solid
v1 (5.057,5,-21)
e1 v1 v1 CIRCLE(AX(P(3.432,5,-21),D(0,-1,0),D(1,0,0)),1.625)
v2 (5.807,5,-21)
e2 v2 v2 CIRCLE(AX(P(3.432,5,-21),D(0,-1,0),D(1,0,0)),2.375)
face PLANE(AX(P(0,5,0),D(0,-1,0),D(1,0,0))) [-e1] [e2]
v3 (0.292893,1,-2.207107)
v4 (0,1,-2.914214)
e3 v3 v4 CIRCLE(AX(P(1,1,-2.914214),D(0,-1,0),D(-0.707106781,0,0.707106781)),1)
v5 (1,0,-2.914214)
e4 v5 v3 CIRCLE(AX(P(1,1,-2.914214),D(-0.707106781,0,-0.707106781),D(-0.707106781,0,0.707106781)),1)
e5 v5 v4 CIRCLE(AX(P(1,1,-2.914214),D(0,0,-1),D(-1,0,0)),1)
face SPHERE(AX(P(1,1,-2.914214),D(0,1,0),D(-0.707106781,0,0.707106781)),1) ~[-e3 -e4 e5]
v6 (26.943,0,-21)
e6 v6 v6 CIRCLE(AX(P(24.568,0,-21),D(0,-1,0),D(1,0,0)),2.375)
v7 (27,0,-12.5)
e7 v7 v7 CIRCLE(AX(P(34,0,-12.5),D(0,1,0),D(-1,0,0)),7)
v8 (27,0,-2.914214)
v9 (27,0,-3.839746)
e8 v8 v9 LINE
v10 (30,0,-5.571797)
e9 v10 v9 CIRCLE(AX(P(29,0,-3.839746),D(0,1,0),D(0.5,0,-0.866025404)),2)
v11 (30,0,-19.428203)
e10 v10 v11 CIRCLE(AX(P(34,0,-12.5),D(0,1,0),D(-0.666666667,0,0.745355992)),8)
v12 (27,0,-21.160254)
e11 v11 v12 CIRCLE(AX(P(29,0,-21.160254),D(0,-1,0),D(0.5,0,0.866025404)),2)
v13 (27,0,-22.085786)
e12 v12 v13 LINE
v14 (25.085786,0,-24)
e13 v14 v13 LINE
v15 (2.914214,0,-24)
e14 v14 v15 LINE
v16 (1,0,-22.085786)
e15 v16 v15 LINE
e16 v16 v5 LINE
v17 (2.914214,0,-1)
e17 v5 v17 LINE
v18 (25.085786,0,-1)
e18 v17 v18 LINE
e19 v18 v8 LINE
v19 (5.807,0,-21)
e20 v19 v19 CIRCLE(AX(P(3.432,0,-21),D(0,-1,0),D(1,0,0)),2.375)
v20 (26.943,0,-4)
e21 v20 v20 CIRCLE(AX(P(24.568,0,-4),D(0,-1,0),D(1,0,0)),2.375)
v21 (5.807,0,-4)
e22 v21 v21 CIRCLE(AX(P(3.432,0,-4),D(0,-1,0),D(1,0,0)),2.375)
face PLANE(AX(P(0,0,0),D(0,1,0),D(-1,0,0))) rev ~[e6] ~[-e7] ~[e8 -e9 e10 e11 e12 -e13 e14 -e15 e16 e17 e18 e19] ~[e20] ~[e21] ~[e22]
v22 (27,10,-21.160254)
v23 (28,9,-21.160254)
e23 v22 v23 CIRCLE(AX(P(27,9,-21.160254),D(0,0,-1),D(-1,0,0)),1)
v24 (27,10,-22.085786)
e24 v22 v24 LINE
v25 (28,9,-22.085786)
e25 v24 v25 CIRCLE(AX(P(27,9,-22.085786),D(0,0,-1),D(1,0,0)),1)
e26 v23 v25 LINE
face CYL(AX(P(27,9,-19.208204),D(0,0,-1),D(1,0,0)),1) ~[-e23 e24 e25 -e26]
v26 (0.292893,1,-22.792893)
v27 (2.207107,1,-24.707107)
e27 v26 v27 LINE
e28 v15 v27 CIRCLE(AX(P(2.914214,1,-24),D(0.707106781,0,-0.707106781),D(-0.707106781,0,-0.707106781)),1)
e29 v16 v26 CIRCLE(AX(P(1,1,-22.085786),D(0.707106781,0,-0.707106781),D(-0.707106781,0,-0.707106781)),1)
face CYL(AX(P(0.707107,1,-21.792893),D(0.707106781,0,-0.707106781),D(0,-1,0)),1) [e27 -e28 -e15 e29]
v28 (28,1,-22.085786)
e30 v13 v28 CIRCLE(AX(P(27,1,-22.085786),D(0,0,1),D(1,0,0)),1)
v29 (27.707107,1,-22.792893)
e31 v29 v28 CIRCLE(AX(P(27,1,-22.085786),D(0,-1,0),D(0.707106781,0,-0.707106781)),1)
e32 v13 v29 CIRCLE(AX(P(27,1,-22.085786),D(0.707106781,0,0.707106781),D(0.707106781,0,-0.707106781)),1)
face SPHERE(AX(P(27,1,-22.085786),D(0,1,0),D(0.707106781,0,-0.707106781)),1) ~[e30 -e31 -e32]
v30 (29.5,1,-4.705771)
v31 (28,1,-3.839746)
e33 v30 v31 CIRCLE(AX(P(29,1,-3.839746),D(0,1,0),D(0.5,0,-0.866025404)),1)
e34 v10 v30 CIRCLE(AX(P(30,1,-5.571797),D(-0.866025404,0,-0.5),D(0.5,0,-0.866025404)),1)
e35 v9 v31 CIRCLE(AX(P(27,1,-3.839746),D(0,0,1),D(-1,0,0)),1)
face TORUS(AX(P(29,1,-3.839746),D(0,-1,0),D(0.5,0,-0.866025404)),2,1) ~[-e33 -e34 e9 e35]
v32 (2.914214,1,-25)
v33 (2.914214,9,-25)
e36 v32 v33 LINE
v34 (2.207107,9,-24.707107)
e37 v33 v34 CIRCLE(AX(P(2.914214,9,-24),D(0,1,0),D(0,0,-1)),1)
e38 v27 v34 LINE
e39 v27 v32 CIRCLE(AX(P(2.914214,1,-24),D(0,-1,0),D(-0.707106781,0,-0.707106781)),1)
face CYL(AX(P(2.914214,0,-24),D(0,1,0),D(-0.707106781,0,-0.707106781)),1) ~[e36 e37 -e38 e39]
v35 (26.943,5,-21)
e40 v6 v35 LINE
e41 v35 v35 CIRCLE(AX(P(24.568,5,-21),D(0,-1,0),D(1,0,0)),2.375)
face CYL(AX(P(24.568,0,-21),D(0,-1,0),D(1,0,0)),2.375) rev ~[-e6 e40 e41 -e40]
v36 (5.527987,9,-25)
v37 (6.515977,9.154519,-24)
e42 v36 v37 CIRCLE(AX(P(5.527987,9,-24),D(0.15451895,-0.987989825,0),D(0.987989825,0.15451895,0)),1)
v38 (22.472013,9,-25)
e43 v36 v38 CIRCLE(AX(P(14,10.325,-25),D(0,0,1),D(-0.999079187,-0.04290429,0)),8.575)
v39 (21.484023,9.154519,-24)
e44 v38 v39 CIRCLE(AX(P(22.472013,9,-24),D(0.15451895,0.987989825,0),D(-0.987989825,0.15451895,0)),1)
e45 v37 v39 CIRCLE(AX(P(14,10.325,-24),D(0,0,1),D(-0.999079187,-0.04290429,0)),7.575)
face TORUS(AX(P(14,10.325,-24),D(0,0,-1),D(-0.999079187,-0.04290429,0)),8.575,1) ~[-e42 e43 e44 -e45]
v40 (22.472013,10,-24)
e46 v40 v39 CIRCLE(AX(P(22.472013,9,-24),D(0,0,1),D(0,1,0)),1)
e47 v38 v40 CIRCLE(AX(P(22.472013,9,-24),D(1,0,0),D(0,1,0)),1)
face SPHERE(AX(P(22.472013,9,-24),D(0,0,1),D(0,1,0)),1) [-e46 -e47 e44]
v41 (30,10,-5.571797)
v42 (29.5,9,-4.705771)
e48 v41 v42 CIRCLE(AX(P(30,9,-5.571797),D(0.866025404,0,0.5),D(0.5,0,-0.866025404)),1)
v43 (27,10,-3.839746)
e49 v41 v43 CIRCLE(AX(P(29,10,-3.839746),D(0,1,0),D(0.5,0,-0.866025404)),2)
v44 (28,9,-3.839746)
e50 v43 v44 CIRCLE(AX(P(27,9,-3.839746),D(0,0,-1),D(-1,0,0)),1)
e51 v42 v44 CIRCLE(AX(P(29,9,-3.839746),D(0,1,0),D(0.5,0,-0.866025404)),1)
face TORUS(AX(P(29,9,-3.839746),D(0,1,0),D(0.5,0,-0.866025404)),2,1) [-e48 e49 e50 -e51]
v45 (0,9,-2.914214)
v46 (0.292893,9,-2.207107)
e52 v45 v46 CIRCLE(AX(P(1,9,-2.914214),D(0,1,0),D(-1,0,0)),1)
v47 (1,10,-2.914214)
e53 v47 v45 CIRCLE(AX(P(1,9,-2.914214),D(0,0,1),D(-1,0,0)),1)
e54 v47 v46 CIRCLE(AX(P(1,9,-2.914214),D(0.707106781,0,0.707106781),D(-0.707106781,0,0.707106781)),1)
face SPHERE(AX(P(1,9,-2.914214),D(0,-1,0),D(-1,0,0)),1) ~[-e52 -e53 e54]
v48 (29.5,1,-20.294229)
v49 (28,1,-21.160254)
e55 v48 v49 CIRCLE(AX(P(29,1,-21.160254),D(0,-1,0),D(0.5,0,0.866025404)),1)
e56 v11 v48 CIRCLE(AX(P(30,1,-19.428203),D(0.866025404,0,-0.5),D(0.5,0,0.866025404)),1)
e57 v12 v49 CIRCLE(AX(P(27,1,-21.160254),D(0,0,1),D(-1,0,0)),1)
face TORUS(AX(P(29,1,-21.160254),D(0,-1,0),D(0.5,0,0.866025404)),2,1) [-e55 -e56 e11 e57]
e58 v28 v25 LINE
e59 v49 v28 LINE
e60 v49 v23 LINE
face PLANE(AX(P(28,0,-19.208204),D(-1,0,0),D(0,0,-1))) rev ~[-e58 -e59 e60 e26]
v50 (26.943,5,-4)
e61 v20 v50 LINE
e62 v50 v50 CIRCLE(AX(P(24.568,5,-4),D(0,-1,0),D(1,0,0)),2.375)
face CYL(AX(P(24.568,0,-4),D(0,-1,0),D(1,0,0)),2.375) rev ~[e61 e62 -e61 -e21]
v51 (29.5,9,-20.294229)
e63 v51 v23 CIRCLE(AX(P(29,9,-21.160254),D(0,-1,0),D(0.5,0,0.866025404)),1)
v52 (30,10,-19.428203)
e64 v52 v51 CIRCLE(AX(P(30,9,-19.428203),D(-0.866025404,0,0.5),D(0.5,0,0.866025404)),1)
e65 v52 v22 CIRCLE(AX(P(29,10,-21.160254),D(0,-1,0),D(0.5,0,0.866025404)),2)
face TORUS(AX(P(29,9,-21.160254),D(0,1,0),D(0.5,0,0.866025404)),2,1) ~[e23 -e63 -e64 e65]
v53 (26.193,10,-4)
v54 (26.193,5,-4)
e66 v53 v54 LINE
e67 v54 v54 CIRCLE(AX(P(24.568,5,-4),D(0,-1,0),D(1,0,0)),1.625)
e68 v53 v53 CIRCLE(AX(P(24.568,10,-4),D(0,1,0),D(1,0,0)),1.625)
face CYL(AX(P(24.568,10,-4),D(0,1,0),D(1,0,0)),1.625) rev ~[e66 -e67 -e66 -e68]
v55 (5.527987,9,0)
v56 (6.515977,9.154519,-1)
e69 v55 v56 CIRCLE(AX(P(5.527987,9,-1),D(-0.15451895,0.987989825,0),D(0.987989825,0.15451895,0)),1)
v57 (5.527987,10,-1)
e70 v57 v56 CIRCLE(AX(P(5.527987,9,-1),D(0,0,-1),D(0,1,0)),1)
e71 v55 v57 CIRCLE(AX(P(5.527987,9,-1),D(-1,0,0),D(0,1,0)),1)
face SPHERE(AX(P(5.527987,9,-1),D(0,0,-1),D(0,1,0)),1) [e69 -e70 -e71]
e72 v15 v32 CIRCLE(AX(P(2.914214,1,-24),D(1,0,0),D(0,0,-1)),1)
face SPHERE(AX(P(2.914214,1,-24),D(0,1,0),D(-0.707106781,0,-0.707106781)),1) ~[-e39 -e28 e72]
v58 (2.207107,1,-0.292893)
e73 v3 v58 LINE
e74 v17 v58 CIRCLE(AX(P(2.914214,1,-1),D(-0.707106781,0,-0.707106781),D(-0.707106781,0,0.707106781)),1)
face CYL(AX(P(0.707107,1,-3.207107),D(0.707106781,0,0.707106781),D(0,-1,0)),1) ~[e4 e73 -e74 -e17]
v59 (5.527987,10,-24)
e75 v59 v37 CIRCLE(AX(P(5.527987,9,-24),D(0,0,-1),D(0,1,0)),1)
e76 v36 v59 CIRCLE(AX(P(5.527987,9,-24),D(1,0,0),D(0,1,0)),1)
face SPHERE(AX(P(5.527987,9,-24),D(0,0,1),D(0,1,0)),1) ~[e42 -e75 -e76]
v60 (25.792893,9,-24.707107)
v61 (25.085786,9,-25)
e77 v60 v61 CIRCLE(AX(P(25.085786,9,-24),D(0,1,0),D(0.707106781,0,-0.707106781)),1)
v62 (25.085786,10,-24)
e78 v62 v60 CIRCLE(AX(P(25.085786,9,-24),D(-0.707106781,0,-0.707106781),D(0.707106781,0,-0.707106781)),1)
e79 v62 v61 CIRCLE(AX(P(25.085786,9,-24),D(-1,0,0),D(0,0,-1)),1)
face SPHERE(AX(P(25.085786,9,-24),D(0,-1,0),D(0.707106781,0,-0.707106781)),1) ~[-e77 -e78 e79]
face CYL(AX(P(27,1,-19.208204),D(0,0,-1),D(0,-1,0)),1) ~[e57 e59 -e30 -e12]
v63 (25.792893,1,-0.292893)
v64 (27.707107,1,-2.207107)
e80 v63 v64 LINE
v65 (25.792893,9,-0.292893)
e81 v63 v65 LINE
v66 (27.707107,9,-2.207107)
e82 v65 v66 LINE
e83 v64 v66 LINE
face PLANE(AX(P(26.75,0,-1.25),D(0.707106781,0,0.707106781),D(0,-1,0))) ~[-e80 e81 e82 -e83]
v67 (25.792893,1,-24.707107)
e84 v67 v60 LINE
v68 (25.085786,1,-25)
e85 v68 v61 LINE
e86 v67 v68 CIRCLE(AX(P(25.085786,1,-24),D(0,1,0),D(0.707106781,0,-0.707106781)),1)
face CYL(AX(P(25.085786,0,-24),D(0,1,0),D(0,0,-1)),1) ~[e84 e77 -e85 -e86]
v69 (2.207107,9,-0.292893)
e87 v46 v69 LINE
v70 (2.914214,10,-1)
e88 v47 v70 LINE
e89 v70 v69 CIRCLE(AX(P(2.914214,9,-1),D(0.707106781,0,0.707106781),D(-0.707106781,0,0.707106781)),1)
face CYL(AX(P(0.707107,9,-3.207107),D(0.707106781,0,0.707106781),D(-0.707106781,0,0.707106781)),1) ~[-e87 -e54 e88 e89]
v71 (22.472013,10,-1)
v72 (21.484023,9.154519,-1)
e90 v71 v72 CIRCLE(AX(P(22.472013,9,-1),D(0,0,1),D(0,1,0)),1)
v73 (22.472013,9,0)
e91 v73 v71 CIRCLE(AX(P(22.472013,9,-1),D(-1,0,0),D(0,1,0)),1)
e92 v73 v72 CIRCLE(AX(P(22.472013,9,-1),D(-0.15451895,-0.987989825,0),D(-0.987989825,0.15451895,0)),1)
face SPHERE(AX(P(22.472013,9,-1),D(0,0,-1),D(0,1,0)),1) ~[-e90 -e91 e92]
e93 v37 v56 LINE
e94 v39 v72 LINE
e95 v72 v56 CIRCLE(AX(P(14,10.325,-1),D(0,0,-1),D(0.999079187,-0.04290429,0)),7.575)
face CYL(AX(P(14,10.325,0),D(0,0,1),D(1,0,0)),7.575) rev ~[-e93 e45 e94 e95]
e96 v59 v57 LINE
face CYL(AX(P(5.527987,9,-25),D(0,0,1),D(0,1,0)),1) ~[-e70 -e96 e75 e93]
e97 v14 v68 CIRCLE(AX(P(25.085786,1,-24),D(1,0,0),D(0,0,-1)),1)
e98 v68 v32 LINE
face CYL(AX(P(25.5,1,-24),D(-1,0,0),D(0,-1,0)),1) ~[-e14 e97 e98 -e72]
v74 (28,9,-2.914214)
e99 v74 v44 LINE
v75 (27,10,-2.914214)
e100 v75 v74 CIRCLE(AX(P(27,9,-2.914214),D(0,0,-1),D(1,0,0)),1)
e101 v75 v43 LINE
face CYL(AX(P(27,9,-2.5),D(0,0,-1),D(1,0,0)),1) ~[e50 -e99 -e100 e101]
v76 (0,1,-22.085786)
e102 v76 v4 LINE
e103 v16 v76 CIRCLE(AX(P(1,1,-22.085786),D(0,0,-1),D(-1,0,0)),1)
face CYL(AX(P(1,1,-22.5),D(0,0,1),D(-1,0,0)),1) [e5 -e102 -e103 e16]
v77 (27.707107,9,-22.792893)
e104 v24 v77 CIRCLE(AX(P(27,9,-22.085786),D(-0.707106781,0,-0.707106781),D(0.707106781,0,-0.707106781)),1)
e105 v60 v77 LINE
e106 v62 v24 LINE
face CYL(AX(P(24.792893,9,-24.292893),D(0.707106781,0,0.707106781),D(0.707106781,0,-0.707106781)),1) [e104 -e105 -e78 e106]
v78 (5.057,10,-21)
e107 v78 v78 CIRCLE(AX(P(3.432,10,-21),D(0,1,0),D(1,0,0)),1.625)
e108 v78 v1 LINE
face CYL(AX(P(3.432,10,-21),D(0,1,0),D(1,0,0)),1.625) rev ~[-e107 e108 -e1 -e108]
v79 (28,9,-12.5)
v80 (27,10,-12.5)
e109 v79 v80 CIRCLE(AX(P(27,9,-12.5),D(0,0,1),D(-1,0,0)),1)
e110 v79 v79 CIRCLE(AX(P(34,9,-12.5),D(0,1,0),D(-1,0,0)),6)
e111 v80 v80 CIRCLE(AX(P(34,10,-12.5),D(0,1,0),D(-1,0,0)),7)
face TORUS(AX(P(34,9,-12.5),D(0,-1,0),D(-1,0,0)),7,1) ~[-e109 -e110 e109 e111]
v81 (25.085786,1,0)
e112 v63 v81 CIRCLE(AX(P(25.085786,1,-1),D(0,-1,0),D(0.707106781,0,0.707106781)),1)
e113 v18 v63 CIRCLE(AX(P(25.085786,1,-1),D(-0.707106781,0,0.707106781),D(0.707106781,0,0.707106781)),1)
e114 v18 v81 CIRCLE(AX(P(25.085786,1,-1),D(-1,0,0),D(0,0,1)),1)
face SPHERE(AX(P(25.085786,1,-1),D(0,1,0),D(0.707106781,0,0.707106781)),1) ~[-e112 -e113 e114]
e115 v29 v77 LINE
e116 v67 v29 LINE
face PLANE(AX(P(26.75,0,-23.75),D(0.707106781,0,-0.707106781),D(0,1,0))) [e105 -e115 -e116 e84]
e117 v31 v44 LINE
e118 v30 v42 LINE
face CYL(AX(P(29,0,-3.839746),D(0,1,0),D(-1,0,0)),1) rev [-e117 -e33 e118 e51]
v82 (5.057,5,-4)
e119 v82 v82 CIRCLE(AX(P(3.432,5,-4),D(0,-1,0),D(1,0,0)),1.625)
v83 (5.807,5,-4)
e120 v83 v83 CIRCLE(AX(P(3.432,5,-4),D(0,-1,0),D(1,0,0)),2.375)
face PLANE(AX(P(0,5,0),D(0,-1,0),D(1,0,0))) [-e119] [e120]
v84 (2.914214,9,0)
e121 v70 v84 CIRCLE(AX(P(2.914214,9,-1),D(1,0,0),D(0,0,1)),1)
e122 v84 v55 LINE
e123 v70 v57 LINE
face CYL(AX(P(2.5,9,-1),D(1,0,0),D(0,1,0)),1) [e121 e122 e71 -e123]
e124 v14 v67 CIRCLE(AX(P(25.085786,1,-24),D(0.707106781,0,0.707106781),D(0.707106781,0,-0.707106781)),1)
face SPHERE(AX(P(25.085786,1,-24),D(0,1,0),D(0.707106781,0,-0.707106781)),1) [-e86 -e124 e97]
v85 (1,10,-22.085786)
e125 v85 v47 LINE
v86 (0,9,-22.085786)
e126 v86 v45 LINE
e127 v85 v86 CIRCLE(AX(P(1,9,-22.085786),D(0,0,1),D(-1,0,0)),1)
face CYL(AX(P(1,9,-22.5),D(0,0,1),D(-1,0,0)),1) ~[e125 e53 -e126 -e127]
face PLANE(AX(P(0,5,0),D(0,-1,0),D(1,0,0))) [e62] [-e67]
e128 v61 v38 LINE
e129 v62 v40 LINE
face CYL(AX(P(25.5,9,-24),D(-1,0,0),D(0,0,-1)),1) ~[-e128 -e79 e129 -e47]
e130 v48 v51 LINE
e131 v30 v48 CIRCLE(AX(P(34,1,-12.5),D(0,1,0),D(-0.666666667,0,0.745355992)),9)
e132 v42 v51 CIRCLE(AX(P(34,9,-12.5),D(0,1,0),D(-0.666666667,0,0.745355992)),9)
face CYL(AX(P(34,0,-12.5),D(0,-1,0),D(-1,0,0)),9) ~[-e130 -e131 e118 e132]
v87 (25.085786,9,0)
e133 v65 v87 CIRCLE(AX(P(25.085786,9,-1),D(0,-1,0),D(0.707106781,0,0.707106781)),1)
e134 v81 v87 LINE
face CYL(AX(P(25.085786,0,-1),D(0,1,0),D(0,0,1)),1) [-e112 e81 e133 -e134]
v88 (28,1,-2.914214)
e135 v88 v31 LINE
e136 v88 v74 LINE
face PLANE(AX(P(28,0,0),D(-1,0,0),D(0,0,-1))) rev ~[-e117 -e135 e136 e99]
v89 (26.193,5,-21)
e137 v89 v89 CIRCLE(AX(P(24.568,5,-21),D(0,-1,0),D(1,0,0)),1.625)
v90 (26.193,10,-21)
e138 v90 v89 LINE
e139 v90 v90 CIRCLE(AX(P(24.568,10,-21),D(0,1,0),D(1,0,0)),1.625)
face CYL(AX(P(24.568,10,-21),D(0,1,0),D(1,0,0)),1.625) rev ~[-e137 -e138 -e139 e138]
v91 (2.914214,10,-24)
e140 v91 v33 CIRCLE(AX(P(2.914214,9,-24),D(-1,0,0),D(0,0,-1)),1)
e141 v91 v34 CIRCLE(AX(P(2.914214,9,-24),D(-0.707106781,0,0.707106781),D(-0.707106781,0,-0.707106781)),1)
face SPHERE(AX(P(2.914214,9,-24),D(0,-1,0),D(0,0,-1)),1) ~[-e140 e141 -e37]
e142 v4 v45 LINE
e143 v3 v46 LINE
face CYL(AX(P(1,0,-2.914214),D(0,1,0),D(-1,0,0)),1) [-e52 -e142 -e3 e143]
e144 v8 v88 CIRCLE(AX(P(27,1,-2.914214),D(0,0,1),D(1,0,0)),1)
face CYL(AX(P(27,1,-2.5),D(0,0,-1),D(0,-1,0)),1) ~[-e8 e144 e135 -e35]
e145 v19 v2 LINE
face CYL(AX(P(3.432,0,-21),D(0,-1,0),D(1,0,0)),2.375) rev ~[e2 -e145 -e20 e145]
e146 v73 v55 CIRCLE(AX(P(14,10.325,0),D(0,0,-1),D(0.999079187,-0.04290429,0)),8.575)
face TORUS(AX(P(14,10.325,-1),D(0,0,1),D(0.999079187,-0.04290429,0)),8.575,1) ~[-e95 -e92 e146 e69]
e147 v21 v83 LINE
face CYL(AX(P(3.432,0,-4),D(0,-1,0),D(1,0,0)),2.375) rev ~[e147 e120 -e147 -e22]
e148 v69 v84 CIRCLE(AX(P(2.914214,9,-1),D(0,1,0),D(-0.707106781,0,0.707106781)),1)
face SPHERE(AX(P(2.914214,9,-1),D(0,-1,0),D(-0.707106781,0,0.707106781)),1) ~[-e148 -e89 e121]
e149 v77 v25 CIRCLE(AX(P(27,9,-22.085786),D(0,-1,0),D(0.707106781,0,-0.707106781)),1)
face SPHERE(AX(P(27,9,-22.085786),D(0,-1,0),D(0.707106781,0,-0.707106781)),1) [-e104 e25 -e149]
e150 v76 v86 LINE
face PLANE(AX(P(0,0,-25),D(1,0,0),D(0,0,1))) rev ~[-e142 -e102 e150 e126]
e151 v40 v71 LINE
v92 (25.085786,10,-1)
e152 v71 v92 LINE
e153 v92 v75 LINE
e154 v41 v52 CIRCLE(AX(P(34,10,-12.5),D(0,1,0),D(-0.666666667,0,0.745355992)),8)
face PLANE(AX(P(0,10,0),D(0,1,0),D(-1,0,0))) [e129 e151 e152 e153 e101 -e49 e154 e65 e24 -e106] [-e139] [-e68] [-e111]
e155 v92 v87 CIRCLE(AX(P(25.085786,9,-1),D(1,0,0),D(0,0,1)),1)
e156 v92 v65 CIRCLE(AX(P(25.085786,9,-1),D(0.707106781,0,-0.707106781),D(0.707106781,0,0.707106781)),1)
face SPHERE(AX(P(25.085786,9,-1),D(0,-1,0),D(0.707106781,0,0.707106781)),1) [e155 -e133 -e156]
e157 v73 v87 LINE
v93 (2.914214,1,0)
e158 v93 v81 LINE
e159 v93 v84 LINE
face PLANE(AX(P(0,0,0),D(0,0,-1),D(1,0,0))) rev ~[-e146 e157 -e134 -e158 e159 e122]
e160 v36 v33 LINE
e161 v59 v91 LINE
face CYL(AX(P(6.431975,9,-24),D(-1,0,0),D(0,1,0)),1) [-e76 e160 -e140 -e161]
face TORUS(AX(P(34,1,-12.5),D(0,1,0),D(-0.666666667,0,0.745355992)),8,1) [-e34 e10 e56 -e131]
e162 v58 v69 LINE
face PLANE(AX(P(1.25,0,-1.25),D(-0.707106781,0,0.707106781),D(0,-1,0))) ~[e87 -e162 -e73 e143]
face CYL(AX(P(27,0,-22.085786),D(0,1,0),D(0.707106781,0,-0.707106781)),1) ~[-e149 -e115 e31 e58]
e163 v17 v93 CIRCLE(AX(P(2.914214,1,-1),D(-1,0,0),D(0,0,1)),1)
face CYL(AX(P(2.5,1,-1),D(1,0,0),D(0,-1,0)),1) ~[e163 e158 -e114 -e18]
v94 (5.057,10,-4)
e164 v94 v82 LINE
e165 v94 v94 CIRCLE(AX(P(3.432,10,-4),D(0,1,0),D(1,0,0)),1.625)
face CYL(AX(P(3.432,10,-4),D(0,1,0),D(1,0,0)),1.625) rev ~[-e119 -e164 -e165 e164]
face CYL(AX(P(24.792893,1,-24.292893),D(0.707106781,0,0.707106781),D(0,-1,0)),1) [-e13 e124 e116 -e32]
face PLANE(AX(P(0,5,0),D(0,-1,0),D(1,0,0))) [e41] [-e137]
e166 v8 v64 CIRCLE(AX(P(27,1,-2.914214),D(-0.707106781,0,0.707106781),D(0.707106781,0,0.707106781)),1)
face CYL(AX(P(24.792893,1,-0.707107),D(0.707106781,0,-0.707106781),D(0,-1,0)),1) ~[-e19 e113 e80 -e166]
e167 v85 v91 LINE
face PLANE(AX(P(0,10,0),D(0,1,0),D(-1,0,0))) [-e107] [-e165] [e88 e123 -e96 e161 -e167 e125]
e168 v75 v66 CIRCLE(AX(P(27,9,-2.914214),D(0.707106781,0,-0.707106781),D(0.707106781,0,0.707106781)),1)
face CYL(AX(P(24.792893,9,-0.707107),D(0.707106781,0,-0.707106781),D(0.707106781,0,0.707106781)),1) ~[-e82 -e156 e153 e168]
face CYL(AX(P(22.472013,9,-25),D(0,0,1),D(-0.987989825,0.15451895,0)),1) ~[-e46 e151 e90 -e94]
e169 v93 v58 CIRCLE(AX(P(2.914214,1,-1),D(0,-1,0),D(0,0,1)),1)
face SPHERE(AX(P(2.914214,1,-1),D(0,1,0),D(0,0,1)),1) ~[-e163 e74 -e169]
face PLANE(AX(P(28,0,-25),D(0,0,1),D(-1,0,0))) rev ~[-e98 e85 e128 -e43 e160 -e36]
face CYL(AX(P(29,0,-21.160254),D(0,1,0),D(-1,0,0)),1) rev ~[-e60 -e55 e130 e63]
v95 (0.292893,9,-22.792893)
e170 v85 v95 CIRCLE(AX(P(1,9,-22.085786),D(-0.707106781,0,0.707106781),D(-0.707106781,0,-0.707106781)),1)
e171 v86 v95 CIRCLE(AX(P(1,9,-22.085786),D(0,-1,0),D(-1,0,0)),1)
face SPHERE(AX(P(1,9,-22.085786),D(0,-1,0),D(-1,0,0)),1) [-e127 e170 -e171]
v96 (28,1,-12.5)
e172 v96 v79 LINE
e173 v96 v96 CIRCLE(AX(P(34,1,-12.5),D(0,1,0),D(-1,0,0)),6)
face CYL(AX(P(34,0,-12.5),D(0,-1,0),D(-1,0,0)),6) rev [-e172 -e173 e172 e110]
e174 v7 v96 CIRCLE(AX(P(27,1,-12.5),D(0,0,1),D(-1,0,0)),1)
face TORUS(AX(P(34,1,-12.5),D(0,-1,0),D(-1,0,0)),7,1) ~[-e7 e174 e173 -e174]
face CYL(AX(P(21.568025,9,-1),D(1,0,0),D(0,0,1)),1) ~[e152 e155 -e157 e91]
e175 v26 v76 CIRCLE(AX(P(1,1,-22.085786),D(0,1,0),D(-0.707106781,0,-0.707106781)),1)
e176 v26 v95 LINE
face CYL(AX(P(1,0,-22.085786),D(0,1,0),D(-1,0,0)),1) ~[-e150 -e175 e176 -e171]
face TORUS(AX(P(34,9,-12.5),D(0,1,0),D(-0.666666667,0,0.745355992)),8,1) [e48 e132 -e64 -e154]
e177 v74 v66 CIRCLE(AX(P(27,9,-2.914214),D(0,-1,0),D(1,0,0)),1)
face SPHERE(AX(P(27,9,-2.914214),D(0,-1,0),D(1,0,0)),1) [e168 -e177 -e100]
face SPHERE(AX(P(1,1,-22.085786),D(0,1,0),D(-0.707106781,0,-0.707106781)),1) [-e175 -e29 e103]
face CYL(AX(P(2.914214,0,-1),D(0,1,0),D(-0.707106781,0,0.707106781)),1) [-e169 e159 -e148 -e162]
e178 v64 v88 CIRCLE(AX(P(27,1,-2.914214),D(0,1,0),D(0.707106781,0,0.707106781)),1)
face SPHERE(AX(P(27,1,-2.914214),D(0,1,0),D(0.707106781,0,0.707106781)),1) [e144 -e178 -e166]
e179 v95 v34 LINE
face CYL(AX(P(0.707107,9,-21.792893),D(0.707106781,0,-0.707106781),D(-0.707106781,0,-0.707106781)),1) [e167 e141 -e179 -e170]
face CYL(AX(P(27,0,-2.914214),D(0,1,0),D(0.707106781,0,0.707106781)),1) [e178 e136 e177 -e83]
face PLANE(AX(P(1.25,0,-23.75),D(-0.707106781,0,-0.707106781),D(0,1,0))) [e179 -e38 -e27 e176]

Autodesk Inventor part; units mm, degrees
ref_plane "YZ Plane" through (0, 0, 0) normal (1, 0, 0) x (0, 1, 0)
ref_plane "XZ Plane" through (0, 0, 0) normal (0, 1, 0) x (-1, 0, 0)
ref_plane "XY Plane" through (0, 0, 0) normal (0, 0, 1) x (1, 0, 0)
sketch "Sketch1" plane through (0, 0, 0) normal (0, 1, 0) x (-1, 0, 0)
  line L0 (0, 0) -> (-28, 0)
  line L1 (-28, 0) -> (-28, -25)
  line L2 (-28, -25) -> (0, -25)
  line L3 (0, -25) -> (0, 0)
  line L4 (-24.8835, -25) -> (-24.8835, 0) construction
  line L5 (0, -1.9376) -> (-28, -1.9376) construction
  line L6 (-2.7003, -25) -> (-2.7003, 0) construction
  line L7 (0, -22.688) -> (-28, -22.688) construction
  line L8 (-34, -12.5) -> (0, -12.5) construction
  circle A0 centre (-34, -12.5) radius 6
  circle A1 centre (-34, -12.5) radius 9
  dimension "d0" = 28
  dimension "d1" = 25
  dimension "d31" = 12
  dimension "d32" = 12.5
  dimension "d33" = 18
extrude "Extrusion1" add sketch "Sketch1" along normal blind 10
sketch "Sketch2" plane through (0, 0, 0) normal (0, 0, 1) x (1, 0, 0)
  line L0 (0, 0) -> (28, 0) projected
  line L1 (28, 0) -> (28, 10) projected
  line L2 (0, 10) -> (28, 10) projected
  line L3 (0, 0) -> (0, 10) projected
  line L4 (0, 0) -> (0, 10) construction
  line L5 (0, 2.75) -> (28, 2.75) construction
  line L6 (28, 0) -> (28, 10) construction
  circle A0 centre (14, 10.325) radius 7.575
  line L7 (0, 10) -> (28, 10) construction
  line L8 (14, 10) -> (14, 2.75) construction
  dimension "d4" = 7.25
  dimension "d5" = 15.15
extrude "Extrusion2" cut sketch "Sketch2" against normal through all contours A0 L2 | L2 A0
sketch "Sketch3" plane through (0, 10, 0) normal (0, 1, 0) x (1, 0, 0)
  line L0 (6.432, 0) -> (6.432, 25) projected
  line L1 (6.432, 25) -> (0, 25) projected
  line L2 (0, 25) -> (0, 0) projected
  line L3 (0, 0) -> (6.432, 0) projected
  line L4 (21.568, 25) -> (21.568, 0) projected
  line L5 (21.568, 0) -> (28, 0) projected
  line L6 (28, 19.2082) -> (28, 25) projected
  line L7 (28, 25) -> (21.568, 25) projected
  line L8 (0, 21) -> (28, 21) construction
  line L9 (28, 0) -> (28, 25) construction
  line L10 (6.432, 25) -> (0, 25) construction
  line L11 (3.432, 25) -> (3.432, 0) construction
  line L12 (0, 0) -> (28, 0) construction
  line L13 (28, 25) -> (0, 25) construction
  line L14 (24.568, 25) -> (24.568, 0) construction
  line L15 (0, 25) -> (0, 0) construction
  line L16 (0, 4) -> (28, 4) construction
  circle A0 centre (3.432, 21) radius 1.625
  circle A1 centre (24.568, 21) radius 1.625
  circle A2 centre (3.432, 4) radius 1.625
  circle A3 centre (24.568, 4) radius 1.625
  line L17 (28, 0) -> (28, 5.7918) projected
  arc A4 (28, 5.7918) -> (28, 19.2082) centre (34, 12.5) ccw projected
  dimension "d8" = 4
  dimension "d9" = 4
  dimension "d10" = 3
  dimension "d11" = 3
  dimension "d12" = 3.25
  dimension "d13" = 3.25
  dimension "d14" = 3.25
  dimension "d15" = 3.25
extrude "Extrusion3" cut sketch "Sketch3" against normal through all contours A0 | A1 | A2 | A3
chamfer "Chamfer1" distance 2.5 angle 45 4 edges at (0, 5, 0) (28, 5, 0) (28, 5, -25) (0, 5, -25)
fillet "Fillet1" radius 1 38 edges at (14, 0, -25) (2.5, 5, -25) (0, 5, -22.5) (1.25, 0, -23.75) (14, 2.75, -25) (14, 2.75, 0) (21.568, 10, -12.5) (6.432, 10, -12.5) (0, 10, -12.5) (1.25, 10, -1.25) (4.466, 10, 0) (4.466, 10, -25) (1.25, 10, -23.75) (23.534, 10, -25) (25.5, 5, -25) (28, 5, -22.5) (26.75, 0, -23.75) (26.75, 10, -23.75) (28, 10, -4.1459) (28, 10, -20.8541) (26.75, 10, -1.25) (23.534, 10, 0) (28, 0, -4.1459) (28, 0, -20.8541) (28, 5, -2.5) (26.75, 0, -1.25) (14, 0, 0) (1.25, 0, -1.25) (0, 0, -12.5) (25.5, 5, 0) (2.5, 5, 0) (0, 5, -2.5) (28, 5, -19.2082) (28, 5, -5.7918) (43, 10, -12.5) (40, 10, -12.5) (43, 0, -12.5) (40, 0, -12.5)
sketch "Sketch5" plane through (0, 0, 0) normal (0, -1, 0) x (1, 0, 0)
  circle A0 centre (3.432, -4) radius 1.625 projected
  circle A1 centre (3.432, -4) radius 2.375
  circle A2 centre (3.432, -21) radius 1.625 projected
  circle A3 centre (24.568, -21) radius 1.625 projected
  circle A4 centre (24.568, -4) radius 1.625 projected
  circle A5 centre (3.432, -21) radius 2.375
  circle A6 centre (24.568, -21) radius 2.375
  circle A7 centre (24.568, -4) radius 2.375
  point P0 (0, 0)
  dimension "d22" = 4.75
  dimension "d23" = 4.75
  dimension "d24" = 4.75
  dimension "d25" = 4.75
extrude "Extrusion4" cut sketch "Sketch5" against normal blind 5
equation "\"d9\" = d8"
equation "\"d11\" = d10"
equation "\"d13\" = d12"
equation "\"d14\" = d12"
equation "\"d15\" = d12"
properties part number "hotend_holder_pulley_proximty_holder" material "ABS Plastic"
